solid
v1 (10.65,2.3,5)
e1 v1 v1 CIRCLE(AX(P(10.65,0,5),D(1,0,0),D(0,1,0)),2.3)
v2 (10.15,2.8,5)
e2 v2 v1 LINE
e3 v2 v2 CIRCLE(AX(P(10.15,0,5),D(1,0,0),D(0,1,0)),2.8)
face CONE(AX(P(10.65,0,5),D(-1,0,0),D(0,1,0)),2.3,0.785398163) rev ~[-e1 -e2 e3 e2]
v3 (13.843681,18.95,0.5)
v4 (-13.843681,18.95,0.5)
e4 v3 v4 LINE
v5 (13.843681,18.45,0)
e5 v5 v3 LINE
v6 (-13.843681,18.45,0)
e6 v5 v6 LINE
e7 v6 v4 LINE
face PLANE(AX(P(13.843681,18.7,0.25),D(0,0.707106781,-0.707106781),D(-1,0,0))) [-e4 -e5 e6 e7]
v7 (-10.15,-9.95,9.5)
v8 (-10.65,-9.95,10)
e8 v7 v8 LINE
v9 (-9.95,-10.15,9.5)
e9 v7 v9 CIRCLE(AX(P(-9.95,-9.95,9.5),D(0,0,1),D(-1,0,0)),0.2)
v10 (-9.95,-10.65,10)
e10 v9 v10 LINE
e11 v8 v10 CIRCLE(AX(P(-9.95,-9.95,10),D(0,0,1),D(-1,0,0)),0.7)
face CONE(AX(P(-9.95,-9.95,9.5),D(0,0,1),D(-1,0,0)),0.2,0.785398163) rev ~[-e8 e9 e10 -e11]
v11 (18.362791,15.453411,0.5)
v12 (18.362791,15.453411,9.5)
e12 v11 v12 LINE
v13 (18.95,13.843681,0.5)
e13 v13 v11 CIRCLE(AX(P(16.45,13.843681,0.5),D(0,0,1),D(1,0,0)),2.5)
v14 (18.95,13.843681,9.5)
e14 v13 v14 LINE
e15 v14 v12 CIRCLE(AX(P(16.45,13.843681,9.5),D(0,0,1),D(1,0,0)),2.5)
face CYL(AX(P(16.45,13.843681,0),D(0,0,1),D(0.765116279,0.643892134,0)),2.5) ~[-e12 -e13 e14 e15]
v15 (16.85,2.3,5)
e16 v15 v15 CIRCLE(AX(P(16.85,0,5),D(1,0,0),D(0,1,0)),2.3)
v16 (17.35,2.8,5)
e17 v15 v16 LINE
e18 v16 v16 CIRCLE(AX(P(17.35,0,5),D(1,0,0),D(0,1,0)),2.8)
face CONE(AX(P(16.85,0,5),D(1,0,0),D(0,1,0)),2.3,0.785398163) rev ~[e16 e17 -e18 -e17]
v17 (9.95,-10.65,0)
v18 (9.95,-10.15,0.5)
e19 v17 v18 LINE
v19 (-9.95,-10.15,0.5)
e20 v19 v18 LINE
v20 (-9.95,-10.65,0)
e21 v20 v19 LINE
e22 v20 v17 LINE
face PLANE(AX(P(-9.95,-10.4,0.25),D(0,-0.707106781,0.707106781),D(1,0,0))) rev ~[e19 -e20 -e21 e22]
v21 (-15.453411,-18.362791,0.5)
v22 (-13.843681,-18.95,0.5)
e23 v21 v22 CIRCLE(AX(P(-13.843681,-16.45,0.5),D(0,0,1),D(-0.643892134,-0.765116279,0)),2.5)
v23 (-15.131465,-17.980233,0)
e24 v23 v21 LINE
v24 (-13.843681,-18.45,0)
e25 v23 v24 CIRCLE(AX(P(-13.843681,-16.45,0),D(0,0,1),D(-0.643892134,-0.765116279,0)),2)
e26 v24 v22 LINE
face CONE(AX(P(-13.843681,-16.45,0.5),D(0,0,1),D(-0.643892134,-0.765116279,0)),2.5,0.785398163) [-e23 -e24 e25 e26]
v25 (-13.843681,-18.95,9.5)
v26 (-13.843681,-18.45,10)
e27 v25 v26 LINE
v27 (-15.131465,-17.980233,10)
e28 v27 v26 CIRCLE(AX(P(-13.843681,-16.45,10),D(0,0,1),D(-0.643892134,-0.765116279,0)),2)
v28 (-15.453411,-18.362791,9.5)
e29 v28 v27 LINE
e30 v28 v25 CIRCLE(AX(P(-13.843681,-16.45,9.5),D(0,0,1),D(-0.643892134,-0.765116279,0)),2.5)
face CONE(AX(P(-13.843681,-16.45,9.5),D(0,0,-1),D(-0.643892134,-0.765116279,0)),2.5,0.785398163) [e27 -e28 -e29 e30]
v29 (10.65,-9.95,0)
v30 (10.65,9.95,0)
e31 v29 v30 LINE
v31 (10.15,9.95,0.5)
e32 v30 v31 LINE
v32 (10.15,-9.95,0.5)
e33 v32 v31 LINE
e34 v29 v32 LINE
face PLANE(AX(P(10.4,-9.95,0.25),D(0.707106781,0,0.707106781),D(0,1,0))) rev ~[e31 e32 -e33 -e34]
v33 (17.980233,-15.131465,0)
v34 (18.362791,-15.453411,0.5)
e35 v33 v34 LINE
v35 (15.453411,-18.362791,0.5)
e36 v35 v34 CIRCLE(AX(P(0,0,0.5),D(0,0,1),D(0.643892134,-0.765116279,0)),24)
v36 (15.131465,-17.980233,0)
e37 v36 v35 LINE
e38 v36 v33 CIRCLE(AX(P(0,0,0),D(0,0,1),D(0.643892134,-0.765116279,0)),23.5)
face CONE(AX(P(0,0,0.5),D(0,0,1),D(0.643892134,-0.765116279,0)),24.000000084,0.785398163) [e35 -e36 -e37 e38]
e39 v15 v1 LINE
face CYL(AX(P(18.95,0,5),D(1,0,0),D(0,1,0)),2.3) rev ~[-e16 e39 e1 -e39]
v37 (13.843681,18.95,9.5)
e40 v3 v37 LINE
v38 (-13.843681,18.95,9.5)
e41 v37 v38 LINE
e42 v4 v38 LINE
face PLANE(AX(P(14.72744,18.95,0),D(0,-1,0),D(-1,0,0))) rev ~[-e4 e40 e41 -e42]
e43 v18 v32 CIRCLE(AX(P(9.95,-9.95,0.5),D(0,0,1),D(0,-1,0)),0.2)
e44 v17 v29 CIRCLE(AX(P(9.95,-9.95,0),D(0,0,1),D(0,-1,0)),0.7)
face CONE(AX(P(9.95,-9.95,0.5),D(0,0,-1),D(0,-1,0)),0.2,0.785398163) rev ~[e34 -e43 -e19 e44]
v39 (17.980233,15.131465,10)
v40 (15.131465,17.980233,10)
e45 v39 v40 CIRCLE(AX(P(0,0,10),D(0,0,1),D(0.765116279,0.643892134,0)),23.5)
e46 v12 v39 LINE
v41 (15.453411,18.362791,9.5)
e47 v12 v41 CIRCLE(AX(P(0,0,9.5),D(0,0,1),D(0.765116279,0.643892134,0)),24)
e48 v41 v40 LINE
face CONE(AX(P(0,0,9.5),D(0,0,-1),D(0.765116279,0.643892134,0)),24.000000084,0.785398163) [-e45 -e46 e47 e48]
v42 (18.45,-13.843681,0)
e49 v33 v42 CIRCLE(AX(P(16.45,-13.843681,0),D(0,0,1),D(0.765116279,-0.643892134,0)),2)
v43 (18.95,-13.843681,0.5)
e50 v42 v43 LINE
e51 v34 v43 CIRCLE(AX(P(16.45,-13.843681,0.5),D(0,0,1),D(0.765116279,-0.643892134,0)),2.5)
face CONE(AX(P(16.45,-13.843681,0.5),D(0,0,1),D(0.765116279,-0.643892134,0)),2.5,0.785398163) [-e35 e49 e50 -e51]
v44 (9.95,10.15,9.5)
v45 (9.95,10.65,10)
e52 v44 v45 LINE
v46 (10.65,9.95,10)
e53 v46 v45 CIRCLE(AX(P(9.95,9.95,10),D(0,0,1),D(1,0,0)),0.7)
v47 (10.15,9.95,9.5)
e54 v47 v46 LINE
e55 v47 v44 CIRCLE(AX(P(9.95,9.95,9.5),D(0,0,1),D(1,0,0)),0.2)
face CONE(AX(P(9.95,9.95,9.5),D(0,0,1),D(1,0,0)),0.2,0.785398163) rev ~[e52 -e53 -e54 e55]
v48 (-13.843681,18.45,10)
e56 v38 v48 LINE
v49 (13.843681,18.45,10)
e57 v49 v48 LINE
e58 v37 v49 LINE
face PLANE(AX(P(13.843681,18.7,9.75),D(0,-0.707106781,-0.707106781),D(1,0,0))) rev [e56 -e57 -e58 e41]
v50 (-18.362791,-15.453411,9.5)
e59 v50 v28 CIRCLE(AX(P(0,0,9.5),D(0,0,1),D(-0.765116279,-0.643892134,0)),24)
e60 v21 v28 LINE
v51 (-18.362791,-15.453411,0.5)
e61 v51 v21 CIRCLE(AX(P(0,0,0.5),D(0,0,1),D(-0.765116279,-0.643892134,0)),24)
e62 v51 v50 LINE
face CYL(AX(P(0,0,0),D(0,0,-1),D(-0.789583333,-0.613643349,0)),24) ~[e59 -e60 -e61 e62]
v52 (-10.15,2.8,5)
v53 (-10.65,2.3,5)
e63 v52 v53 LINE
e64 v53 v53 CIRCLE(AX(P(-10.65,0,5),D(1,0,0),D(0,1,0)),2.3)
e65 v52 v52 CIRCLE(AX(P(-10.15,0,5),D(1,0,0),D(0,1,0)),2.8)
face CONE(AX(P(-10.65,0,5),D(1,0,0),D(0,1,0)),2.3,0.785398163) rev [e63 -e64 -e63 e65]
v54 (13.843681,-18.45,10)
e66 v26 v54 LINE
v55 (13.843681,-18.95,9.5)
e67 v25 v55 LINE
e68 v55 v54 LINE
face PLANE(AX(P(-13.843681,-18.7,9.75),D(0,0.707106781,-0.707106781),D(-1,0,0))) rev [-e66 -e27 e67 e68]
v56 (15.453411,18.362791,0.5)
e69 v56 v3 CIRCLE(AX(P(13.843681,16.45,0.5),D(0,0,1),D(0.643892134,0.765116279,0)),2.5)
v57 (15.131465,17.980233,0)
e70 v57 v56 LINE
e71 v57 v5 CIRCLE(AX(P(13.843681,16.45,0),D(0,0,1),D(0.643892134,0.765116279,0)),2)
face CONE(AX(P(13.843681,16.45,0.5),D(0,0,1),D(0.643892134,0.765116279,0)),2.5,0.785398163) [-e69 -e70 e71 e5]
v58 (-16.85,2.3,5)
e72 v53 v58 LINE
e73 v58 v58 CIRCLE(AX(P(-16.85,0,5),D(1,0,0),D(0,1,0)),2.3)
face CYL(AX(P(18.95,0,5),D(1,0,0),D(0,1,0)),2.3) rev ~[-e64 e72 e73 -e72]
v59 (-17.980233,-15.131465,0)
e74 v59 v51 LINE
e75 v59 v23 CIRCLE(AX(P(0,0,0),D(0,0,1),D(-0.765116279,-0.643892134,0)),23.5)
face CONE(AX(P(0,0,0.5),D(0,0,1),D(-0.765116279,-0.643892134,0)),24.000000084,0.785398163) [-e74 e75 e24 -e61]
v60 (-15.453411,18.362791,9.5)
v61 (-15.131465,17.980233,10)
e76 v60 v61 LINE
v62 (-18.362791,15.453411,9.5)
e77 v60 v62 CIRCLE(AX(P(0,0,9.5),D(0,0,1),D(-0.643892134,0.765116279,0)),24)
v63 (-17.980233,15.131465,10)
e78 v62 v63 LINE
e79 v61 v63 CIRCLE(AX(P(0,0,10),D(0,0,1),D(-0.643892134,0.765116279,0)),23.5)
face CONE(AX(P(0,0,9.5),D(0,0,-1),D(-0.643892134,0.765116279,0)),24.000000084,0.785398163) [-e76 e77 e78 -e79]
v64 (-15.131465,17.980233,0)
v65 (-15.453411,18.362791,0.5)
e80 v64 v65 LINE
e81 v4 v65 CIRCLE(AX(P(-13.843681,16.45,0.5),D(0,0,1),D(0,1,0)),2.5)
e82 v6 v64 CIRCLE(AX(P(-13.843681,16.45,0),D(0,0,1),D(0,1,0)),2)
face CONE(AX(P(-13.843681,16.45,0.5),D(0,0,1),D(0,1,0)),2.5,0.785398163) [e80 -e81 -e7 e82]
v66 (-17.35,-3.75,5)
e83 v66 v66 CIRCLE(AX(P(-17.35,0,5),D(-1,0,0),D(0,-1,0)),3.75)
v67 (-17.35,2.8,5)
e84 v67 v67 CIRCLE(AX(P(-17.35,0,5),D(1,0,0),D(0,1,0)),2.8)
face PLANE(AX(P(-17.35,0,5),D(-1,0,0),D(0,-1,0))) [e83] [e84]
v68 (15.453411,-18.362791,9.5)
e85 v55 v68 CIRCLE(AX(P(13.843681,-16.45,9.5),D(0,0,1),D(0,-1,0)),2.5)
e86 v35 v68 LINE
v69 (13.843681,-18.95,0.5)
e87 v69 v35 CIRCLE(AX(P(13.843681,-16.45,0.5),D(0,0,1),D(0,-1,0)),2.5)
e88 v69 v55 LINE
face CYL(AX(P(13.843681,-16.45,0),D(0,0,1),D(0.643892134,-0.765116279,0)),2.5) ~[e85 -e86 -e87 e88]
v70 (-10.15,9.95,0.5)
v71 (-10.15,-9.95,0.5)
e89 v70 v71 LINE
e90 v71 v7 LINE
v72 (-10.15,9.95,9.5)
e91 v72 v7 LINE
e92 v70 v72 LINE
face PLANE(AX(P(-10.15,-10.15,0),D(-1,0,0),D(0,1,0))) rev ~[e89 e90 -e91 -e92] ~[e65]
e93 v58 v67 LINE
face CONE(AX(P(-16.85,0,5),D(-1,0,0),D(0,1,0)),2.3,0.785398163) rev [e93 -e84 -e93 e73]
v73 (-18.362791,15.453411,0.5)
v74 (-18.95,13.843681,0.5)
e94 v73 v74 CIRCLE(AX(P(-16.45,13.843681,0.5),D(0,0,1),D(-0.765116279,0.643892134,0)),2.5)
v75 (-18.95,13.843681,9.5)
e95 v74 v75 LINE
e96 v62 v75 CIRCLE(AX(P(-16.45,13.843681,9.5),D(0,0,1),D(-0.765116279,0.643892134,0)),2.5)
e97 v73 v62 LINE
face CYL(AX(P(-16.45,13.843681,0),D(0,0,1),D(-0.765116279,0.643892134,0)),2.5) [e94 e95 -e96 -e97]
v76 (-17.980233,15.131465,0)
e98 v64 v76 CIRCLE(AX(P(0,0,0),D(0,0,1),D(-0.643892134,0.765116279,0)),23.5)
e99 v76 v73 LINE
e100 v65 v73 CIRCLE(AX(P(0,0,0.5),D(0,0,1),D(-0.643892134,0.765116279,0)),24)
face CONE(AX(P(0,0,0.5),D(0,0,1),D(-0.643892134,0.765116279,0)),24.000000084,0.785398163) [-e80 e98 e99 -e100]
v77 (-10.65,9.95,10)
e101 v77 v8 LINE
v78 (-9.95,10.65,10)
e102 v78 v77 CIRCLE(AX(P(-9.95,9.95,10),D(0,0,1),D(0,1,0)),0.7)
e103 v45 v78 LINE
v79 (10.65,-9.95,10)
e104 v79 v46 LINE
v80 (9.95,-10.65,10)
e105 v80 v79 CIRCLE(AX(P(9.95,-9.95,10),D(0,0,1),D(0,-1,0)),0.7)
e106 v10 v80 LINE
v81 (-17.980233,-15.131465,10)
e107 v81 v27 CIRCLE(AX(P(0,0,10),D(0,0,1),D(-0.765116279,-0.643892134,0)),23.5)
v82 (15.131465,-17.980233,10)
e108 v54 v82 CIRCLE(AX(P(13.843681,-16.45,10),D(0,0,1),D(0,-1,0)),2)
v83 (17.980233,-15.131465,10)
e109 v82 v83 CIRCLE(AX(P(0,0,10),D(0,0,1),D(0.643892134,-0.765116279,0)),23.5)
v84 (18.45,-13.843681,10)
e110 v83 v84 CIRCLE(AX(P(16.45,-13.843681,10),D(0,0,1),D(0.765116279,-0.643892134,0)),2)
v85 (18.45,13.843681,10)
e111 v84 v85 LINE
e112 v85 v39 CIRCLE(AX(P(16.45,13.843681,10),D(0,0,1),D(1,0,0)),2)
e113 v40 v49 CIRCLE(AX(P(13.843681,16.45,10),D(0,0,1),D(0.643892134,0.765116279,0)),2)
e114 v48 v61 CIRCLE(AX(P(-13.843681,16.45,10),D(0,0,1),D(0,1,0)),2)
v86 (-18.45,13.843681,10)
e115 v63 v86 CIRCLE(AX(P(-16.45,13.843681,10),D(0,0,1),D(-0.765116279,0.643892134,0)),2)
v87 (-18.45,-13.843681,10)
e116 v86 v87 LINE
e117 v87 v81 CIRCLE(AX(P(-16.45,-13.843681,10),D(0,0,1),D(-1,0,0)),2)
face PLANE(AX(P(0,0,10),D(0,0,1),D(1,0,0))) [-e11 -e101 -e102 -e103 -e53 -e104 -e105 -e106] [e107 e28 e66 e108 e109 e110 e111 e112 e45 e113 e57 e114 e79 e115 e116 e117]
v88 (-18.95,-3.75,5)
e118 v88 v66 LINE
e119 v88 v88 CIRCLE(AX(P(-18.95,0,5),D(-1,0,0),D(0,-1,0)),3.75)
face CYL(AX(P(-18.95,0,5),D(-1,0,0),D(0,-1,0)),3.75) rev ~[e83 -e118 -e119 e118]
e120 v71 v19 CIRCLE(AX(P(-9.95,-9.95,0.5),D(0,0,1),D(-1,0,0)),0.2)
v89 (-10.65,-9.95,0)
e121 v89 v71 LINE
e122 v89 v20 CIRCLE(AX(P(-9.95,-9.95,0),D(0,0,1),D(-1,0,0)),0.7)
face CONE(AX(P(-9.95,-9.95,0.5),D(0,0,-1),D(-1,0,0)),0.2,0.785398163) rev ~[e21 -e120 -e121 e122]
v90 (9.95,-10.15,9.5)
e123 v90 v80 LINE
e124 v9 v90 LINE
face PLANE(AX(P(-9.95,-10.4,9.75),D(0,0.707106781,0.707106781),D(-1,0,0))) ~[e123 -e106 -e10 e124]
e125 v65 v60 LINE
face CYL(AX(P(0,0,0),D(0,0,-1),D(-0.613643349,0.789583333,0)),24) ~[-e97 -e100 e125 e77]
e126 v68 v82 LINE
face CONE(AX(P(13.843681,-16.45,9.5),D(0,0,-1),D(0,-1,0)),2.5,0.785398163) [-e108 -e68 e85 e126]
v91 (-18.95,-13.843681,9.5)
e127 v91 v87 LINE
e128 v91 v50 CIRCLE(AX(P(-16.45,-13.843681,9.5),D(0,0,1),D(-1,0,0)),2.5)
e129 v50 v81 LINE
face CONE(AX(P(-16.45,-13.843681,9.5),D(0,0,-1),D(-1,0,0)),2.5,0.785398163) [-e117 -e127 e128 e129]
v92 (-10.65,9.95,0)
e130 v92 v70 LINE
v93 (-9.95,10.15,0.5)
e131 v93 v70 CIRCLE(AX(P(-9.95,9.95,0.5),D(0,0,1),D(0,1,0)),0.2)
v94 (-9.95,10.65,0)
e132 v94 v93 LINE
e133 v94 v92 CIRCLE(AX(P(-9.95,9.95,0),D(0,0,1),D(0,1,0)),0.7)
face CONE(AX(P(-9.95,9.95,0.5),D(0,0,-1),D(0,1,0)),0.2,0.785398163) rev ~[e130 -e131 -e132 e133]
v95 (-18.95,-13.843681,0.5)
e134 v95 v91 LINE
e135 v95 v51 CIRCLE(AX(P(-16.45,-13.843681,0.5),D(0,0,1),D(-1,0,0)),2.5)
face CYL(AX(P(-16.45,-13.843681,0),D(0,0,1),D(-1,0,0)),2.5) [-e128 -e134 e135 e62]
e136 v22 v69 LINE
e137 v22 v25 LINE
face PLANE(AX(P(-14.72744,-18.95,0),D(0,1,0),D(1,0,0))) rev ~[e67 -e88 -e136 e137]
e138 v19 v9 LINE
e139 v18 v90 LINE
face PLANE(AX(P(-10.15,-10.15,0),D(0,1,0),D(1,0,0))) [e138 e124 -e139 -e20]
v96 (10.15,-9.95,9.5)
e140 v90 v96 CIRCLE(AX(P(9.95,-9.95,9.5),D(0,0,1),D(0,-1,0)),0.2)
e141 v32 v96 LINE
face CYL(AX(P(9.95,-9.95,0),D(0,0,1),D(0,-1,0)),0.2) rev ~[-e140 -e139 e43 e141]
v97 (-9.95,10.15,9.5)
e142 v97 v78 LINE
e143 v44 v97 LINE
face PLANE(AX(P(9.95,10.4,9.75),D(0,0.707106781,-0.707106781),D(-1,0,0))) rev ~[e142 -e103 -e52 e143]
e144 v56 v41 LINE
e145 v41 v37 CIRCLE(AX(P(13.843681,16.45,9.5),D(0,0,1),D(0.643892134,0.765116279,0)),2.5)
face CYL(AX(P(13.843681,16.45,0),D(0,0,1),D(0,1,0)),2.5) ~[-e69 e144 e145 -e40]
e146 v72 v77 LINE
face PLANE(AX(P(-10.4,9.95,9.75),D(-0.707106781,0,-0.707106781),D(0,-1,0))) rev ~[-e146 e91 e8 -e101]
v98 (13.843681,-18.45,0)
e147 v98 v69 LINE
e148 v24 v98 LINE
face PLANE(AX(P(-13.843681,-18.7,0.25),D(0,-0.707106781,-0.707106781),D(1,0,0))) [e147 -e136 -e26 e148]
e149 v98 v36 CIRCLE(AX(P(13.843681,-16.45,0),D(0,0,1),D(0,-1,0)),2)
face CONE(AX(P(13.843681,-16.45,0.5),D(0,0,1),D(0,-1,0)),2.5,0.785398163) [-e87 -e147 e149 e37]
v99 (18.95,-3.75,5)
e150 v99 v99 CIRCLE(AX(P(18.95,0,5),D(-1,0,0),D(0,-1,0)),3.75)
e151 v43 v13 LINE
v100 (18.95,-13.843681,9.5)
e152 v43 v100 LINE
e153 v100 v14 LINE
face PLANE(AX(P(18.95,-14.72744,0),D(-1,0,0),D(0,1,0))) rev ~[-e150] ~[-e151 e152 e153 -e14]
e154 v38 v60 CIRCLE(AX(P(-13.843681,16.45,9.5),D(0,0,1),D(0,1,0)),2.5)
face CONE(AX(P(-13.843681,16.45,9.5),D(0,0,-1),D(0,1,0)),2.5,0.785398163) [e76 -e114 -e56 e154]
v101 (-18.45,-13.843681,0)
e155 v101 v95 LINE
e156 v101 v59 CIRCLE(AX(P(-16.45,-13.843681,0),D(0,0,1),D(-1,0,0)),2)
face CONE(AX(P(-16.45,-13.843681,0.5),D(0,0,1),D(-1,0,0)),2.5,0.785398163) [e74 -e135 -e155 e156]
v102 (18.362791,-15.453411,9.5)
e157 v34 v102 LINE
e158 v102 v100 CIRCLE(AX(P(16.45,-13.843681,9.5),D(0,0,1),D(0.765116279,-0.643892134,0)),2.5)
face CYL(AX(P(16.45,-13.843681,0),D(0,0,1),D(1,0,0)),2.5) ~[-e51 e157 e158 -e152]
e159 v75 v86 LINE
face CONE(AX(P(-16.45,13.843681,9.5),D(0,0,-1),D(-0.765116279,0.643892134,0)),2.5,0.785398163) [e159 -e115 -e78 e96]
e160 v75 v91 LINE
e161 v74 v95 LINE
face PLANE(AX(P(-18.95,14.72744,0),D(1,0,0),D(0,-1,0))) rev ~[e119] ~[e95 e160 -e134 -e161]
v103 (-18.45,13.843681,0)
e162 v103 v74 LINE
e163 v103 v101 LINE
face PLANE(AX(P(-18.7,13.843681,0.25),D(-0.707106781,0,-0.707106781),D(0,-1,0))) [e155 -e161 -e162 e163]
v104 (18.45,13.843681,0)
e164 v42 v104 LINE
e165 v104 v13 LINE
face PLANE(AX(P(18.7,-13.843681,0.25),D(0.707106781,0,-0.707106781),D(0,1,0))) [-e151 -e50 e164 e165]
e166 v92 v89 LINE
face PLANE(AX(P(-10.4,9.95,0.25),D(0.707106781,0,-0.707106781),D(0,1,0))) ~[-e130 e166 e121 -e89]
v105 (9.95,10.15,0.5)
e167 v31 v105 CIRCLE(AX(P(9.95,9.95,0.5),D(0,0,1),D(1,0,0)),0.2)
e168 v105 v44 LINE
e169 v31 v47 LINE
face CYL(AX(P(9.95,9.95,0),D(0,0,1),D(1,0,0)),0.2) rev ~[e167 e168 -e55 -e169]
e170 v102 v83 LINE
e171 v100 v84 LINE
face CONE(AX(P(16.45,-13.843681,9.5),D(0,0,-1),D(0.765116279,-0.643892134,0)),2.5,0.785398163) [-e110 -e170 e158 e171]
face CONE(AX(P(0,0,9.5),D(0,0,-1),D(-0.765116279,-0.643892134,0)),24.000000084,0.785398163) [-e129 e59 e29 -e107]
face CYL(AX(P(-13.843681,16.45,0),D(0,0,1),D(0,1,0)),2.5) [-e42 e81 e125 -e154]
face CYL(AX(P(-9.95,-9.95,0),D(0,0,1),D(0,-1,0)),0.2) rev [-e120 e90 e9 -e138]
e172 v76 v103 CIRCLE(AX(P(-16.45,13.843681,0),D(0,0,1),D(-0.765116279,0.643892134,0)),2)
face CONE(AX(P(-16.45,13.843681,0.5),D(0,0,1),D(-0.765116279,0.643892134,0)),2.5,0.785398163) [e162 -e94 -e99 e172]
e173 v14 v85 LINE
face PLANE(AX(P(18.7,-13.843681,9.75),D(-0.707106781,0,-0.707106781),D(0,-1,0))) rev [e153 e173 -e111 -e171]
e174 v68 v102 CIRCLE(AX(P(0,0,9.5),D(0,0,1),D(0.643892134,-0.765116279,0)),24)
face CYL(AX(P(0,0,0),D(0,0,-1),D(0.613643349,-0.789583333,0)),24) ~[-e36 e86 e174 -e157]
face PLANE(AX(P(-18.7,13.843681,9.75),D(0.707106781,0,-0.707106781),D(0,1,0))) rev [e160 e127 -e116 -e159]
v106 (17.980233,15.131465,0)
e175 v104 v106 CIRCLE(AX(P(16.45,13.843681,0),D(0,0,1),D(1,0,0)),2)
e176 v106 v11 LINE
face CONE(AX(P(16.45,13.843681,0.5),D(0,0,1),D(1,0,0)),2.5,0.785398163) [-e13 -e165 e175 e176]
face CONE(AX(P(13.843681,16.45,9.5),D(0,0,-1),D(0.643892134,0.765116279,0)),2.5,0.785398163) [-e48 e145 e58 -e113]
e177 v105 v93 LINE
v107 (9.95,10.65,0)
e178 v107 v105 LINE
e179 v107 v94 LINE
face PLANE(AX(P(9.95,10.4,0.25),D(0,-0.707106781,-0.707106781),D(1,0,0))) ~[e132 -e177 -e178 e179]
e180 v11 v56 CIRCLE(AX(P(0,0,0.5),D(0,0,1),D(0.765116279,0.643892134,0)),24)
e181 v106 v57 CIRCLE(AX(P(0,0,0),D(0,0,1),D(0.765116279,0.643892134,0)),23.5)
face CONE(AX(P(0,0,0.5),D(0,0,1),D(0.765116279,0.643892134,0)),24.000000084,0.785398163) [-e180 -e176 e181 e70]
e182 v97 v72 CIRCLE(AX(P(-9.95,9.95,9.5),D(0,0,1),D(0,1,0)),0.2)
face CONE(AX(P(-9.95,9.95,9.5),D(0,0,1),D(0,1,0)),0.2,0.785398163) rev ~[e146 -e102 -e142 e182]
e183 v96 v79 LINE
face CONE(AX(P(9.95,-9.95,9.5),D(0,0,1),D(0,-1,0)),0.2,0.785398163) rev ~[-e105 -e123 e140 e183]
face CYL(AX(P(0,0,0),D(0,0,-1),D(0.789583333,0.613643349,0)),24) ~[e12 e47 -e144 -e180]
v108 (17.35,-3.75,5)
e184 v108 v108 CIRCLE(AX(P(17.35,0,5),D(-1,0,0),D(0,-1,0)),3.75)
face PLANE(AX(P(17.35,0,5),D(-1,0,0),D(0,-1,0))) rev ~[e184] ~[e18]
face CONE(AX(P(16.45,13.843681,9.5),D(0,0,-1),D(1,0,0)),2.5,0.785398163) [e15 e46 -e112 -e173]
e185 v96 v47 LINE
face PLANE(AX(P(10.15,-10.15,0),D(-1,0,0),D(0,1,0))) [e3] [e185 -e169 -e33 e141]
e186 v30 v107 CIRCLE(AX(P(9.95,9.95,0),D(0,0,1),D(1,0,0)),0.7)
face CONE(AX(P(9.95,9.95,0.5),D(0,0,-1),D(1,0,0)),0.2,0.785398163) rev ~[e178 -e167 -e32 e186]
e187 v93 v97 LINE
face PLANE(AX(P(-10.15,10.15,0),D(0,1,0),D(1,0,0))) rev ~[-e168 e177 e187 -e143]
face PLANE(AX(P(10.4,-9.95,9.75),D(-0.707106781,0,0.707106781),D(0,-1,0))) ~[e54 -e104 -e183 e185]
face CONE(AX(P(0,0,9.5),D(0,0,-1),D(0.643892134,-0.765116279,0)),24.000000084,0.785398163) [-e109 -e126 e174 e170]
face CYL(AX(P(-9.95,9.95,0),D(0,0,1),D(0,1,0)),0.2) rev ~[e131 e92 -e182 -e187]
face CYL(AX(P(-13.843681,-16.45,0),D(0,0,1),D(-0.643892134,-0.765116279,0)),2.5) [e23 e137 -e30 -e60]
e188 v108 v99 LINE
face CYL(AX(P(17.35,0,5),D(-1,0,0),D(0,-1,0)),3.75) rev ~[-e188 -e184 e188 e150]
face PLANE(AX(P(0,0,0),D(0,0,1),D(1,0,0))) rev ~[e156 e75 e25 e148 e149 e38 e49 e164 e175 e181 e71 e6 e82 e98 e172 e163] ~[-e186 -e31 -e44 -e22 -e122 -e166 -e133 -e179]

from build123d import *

# Parameters (mm, degrees)
SKIZZE1_W                       = 20.3
SKIZZE1_H                       = 20.3
AUFSATZ_LINEAR_AUSTRAGEN1_DEPTH = 10
VERRUNDUNG1_R                   = 0.2
VERRUNDUNG2_R                   = 2.5
SKIZZE2_R                       = 2.3
SCHNITT_LINEAR_AUSTRAGEN1_DEPTH = 44.53748385
SKETCH1_R                       = 3.75
CUT_EXTRUDE1_DEPTH              = 1.6
CUT_EXTRUDE2_START              = -36.3
SKETCH1_2_R                     = 3.75
CUT_EXTRUDE2_DEPTH              = 1.6
FASE2_SIZE                      = 0.5


with BuildPart() as part:
    # Skizze1 → Aufsatz-Linear austragen1 (new body)
    with BuildSketch(Plane.XY):
        with BuildLine():
            Line((14.727440375, 18.95), (-14.727440375, 18.95))
            ThreePointArc((-14.727440375, 18.95), (-16.970562748, 16.970562748), (-18.95, 14.727440375))
            Line((-18.95, 14.727440375), (-18.95, -14.727440375))
            ThreePointArc((-18.95, -14.727440375), (-16.970562748, -16.970562748), (-14.727440375, -18.95))
            Line((-14.727440375, -18.95), (14.727440375, -18.95))
            ThreePointArc((14.727440375, -18.95), (16.970562748, -16.970562748), (18.95, -14.727440375))
            Line((18.95, -14.727440375), (18.95, 14.727440375))
            ThreePointArc((18.95, 14.727440375), (16.970562748, 16.970562748), (14.727440375, 18.95))
        make_face()
        Rectangle(SKIZZE1_W, SKIZZE1_H, mode=Mode.SUBTRACT)
    extrude(amount=AUFSATZ_LINEAR_AUSTRAGEN1_DEPTH)

    # Verrundung1
    verrundung1_edges = [part.edges().sort_by_distance(p)[0] for p in [
        (10.15, -10.15, 5),
        (10.15, 10.15, 5),
        (-10.15, 10.15, 5),
        (-10.15, -10.15, 5),
    ]]
    fillet(verrundung1_edges, radius=VERRUNDUNG1_R)

    # Verrundung2
    verrundung2_edges = [part.edges().sort_by_distance(p)[0] for p in [
        (18.95, 14.727440375, 5),
        (18.95, -14.727440375, 5),
        (14.727440375, -18.95, 5),
        (-14.727440375, -18.95, 5),
        (-18.95, -14.727440375, 5),
        (-18.95, 14.727440375, 5),
        (-14.727440375, 18.95, 5),
        (14.727440375, 18.95, 5),
    ]]
    fillet(verrundung2_edges, radius=VERRUNDUNG2_R)

    # Skizze2 → Schnitt-Linear austragen1 (cut, through all)
    with BuildSketch(Plane(origin=(18.95, 0, 0), x_dir=(0, 0, -1), z_dir=(1, 0, 0))):
        with Locations(Location((-5, 0, 0), (0, 0, 90))):
            Circle(SKIZZE2_R)
    extrude(amount=-SCHNITT_LINEAR_AUSTRAGEN1_DEPTH, mode=Mode.SUBTRACT)

    # Sketch1 → Cut-Extrude1 (cut)
    with BuildSketch(Plane.ZY.offset(18.95)):
        with Locations(Location((5, 0, 0), (0, 0, 270))):
            Circle(SKETCH1_R)
    extrude(amount=-CUT_EXTRUDE1_DEPTH, mode=Mode.SUBTRACT)

    # Sketch1<2> → Cut-Extrude2 (cut)
    with BuildSketch(Plane.ZY.offset(18.95).offset(CUT_EXTRUDE2_START)):
        with Locations(Location((5, 0, 0), (0, 0, 270))):
            Circle(SKETCH1_2_R)
    extrude(amount=-CUT_EXTRUDE2_DEPTH, mode=Mode.SUBTRACT)

    # Fase2
    fase2_edges = [part.edges().sort_by_distance(p)[0] for p in [
        (-10.15, -2.3, 5),
        (10.15, -2.3, 5),
        (-17.35, -2.3, 5),
        (17.35, -2.3, 5),
        (0, -10.15, 0),
        (0, -10.15, 10),
        (10.15, 0, 0),
        (10.15, 0, 10),
        (-10.15, 0, 0),
        (-10.15, 0, 10),
        (0, 10.15, 0),
        (0, 10.15, 10),
        (10.091421356, -10.091421356, 0),
        (10.091421356, -10.091421356, 10),
        (-10.091421356, -10.091421356, 0),
        (-10.091421356, -10.091421356, 10),
        (-10.091421356, 10.091421356, 0),
        (-10.091421356, 10.091421356, 10),
        (10.091421356, 10.091421356, 0),
        (10.091421356, 10.091421356, 10),
        (0, 18.95, 0),
        (0, 18.95, 10),
        (16.970562748, 16.970562748, 0),
        (18.95, 0, 0),
        (16.970562748, -16.970562748, 0),
        (0, -18.95, 0),
        (-16.970562748, -16.970562748, 0),
        (-18.95, 0, 0),
        (-16.970562748, 16.970562748, 0),
        (-14.700425655, 18.798614139, 0),
        (-18.798614139, 14.700425655, 0),
        (-18.798614139, -14.700425655, 0),
        (-14.700425655, -18.798614139, 0),
        (14.700425655, -18.798614139, 0),
        (18.798614139, -14.700425655, 0),
        (18.798614139, 14.700425655, 0),
        (14.700425655, 18.798614139, 0),
        (16.970562748, 16.970562748, 10),
        (-16.970562748, 16.970562748, 10),
        (-18.95, 0, 10),
        (-16.970562748, -16.970562748, 10),
        (0, -18.95, 10),
        (16.970562748, -16.970562748, 10),
        (18.95, 0, 10),
        (-14.700425655, 18.798614139, 10),
        (-18.798614139, 14.700425655, 10),
        (-18.798614139, -14.700425655, 10),
        (-14.700425655, -18.798614139, 10),
        (14.700425655, -18.798614139, 10),
        (18.798614139, -14.700425655, 10),
        (18.798614139, 14.700425655, 10),
        (14.700425655, 18.798614139, 10),
    ]]
    chamfer(fase2_edges, length=FASE2_SIZE)


solid = part.part
